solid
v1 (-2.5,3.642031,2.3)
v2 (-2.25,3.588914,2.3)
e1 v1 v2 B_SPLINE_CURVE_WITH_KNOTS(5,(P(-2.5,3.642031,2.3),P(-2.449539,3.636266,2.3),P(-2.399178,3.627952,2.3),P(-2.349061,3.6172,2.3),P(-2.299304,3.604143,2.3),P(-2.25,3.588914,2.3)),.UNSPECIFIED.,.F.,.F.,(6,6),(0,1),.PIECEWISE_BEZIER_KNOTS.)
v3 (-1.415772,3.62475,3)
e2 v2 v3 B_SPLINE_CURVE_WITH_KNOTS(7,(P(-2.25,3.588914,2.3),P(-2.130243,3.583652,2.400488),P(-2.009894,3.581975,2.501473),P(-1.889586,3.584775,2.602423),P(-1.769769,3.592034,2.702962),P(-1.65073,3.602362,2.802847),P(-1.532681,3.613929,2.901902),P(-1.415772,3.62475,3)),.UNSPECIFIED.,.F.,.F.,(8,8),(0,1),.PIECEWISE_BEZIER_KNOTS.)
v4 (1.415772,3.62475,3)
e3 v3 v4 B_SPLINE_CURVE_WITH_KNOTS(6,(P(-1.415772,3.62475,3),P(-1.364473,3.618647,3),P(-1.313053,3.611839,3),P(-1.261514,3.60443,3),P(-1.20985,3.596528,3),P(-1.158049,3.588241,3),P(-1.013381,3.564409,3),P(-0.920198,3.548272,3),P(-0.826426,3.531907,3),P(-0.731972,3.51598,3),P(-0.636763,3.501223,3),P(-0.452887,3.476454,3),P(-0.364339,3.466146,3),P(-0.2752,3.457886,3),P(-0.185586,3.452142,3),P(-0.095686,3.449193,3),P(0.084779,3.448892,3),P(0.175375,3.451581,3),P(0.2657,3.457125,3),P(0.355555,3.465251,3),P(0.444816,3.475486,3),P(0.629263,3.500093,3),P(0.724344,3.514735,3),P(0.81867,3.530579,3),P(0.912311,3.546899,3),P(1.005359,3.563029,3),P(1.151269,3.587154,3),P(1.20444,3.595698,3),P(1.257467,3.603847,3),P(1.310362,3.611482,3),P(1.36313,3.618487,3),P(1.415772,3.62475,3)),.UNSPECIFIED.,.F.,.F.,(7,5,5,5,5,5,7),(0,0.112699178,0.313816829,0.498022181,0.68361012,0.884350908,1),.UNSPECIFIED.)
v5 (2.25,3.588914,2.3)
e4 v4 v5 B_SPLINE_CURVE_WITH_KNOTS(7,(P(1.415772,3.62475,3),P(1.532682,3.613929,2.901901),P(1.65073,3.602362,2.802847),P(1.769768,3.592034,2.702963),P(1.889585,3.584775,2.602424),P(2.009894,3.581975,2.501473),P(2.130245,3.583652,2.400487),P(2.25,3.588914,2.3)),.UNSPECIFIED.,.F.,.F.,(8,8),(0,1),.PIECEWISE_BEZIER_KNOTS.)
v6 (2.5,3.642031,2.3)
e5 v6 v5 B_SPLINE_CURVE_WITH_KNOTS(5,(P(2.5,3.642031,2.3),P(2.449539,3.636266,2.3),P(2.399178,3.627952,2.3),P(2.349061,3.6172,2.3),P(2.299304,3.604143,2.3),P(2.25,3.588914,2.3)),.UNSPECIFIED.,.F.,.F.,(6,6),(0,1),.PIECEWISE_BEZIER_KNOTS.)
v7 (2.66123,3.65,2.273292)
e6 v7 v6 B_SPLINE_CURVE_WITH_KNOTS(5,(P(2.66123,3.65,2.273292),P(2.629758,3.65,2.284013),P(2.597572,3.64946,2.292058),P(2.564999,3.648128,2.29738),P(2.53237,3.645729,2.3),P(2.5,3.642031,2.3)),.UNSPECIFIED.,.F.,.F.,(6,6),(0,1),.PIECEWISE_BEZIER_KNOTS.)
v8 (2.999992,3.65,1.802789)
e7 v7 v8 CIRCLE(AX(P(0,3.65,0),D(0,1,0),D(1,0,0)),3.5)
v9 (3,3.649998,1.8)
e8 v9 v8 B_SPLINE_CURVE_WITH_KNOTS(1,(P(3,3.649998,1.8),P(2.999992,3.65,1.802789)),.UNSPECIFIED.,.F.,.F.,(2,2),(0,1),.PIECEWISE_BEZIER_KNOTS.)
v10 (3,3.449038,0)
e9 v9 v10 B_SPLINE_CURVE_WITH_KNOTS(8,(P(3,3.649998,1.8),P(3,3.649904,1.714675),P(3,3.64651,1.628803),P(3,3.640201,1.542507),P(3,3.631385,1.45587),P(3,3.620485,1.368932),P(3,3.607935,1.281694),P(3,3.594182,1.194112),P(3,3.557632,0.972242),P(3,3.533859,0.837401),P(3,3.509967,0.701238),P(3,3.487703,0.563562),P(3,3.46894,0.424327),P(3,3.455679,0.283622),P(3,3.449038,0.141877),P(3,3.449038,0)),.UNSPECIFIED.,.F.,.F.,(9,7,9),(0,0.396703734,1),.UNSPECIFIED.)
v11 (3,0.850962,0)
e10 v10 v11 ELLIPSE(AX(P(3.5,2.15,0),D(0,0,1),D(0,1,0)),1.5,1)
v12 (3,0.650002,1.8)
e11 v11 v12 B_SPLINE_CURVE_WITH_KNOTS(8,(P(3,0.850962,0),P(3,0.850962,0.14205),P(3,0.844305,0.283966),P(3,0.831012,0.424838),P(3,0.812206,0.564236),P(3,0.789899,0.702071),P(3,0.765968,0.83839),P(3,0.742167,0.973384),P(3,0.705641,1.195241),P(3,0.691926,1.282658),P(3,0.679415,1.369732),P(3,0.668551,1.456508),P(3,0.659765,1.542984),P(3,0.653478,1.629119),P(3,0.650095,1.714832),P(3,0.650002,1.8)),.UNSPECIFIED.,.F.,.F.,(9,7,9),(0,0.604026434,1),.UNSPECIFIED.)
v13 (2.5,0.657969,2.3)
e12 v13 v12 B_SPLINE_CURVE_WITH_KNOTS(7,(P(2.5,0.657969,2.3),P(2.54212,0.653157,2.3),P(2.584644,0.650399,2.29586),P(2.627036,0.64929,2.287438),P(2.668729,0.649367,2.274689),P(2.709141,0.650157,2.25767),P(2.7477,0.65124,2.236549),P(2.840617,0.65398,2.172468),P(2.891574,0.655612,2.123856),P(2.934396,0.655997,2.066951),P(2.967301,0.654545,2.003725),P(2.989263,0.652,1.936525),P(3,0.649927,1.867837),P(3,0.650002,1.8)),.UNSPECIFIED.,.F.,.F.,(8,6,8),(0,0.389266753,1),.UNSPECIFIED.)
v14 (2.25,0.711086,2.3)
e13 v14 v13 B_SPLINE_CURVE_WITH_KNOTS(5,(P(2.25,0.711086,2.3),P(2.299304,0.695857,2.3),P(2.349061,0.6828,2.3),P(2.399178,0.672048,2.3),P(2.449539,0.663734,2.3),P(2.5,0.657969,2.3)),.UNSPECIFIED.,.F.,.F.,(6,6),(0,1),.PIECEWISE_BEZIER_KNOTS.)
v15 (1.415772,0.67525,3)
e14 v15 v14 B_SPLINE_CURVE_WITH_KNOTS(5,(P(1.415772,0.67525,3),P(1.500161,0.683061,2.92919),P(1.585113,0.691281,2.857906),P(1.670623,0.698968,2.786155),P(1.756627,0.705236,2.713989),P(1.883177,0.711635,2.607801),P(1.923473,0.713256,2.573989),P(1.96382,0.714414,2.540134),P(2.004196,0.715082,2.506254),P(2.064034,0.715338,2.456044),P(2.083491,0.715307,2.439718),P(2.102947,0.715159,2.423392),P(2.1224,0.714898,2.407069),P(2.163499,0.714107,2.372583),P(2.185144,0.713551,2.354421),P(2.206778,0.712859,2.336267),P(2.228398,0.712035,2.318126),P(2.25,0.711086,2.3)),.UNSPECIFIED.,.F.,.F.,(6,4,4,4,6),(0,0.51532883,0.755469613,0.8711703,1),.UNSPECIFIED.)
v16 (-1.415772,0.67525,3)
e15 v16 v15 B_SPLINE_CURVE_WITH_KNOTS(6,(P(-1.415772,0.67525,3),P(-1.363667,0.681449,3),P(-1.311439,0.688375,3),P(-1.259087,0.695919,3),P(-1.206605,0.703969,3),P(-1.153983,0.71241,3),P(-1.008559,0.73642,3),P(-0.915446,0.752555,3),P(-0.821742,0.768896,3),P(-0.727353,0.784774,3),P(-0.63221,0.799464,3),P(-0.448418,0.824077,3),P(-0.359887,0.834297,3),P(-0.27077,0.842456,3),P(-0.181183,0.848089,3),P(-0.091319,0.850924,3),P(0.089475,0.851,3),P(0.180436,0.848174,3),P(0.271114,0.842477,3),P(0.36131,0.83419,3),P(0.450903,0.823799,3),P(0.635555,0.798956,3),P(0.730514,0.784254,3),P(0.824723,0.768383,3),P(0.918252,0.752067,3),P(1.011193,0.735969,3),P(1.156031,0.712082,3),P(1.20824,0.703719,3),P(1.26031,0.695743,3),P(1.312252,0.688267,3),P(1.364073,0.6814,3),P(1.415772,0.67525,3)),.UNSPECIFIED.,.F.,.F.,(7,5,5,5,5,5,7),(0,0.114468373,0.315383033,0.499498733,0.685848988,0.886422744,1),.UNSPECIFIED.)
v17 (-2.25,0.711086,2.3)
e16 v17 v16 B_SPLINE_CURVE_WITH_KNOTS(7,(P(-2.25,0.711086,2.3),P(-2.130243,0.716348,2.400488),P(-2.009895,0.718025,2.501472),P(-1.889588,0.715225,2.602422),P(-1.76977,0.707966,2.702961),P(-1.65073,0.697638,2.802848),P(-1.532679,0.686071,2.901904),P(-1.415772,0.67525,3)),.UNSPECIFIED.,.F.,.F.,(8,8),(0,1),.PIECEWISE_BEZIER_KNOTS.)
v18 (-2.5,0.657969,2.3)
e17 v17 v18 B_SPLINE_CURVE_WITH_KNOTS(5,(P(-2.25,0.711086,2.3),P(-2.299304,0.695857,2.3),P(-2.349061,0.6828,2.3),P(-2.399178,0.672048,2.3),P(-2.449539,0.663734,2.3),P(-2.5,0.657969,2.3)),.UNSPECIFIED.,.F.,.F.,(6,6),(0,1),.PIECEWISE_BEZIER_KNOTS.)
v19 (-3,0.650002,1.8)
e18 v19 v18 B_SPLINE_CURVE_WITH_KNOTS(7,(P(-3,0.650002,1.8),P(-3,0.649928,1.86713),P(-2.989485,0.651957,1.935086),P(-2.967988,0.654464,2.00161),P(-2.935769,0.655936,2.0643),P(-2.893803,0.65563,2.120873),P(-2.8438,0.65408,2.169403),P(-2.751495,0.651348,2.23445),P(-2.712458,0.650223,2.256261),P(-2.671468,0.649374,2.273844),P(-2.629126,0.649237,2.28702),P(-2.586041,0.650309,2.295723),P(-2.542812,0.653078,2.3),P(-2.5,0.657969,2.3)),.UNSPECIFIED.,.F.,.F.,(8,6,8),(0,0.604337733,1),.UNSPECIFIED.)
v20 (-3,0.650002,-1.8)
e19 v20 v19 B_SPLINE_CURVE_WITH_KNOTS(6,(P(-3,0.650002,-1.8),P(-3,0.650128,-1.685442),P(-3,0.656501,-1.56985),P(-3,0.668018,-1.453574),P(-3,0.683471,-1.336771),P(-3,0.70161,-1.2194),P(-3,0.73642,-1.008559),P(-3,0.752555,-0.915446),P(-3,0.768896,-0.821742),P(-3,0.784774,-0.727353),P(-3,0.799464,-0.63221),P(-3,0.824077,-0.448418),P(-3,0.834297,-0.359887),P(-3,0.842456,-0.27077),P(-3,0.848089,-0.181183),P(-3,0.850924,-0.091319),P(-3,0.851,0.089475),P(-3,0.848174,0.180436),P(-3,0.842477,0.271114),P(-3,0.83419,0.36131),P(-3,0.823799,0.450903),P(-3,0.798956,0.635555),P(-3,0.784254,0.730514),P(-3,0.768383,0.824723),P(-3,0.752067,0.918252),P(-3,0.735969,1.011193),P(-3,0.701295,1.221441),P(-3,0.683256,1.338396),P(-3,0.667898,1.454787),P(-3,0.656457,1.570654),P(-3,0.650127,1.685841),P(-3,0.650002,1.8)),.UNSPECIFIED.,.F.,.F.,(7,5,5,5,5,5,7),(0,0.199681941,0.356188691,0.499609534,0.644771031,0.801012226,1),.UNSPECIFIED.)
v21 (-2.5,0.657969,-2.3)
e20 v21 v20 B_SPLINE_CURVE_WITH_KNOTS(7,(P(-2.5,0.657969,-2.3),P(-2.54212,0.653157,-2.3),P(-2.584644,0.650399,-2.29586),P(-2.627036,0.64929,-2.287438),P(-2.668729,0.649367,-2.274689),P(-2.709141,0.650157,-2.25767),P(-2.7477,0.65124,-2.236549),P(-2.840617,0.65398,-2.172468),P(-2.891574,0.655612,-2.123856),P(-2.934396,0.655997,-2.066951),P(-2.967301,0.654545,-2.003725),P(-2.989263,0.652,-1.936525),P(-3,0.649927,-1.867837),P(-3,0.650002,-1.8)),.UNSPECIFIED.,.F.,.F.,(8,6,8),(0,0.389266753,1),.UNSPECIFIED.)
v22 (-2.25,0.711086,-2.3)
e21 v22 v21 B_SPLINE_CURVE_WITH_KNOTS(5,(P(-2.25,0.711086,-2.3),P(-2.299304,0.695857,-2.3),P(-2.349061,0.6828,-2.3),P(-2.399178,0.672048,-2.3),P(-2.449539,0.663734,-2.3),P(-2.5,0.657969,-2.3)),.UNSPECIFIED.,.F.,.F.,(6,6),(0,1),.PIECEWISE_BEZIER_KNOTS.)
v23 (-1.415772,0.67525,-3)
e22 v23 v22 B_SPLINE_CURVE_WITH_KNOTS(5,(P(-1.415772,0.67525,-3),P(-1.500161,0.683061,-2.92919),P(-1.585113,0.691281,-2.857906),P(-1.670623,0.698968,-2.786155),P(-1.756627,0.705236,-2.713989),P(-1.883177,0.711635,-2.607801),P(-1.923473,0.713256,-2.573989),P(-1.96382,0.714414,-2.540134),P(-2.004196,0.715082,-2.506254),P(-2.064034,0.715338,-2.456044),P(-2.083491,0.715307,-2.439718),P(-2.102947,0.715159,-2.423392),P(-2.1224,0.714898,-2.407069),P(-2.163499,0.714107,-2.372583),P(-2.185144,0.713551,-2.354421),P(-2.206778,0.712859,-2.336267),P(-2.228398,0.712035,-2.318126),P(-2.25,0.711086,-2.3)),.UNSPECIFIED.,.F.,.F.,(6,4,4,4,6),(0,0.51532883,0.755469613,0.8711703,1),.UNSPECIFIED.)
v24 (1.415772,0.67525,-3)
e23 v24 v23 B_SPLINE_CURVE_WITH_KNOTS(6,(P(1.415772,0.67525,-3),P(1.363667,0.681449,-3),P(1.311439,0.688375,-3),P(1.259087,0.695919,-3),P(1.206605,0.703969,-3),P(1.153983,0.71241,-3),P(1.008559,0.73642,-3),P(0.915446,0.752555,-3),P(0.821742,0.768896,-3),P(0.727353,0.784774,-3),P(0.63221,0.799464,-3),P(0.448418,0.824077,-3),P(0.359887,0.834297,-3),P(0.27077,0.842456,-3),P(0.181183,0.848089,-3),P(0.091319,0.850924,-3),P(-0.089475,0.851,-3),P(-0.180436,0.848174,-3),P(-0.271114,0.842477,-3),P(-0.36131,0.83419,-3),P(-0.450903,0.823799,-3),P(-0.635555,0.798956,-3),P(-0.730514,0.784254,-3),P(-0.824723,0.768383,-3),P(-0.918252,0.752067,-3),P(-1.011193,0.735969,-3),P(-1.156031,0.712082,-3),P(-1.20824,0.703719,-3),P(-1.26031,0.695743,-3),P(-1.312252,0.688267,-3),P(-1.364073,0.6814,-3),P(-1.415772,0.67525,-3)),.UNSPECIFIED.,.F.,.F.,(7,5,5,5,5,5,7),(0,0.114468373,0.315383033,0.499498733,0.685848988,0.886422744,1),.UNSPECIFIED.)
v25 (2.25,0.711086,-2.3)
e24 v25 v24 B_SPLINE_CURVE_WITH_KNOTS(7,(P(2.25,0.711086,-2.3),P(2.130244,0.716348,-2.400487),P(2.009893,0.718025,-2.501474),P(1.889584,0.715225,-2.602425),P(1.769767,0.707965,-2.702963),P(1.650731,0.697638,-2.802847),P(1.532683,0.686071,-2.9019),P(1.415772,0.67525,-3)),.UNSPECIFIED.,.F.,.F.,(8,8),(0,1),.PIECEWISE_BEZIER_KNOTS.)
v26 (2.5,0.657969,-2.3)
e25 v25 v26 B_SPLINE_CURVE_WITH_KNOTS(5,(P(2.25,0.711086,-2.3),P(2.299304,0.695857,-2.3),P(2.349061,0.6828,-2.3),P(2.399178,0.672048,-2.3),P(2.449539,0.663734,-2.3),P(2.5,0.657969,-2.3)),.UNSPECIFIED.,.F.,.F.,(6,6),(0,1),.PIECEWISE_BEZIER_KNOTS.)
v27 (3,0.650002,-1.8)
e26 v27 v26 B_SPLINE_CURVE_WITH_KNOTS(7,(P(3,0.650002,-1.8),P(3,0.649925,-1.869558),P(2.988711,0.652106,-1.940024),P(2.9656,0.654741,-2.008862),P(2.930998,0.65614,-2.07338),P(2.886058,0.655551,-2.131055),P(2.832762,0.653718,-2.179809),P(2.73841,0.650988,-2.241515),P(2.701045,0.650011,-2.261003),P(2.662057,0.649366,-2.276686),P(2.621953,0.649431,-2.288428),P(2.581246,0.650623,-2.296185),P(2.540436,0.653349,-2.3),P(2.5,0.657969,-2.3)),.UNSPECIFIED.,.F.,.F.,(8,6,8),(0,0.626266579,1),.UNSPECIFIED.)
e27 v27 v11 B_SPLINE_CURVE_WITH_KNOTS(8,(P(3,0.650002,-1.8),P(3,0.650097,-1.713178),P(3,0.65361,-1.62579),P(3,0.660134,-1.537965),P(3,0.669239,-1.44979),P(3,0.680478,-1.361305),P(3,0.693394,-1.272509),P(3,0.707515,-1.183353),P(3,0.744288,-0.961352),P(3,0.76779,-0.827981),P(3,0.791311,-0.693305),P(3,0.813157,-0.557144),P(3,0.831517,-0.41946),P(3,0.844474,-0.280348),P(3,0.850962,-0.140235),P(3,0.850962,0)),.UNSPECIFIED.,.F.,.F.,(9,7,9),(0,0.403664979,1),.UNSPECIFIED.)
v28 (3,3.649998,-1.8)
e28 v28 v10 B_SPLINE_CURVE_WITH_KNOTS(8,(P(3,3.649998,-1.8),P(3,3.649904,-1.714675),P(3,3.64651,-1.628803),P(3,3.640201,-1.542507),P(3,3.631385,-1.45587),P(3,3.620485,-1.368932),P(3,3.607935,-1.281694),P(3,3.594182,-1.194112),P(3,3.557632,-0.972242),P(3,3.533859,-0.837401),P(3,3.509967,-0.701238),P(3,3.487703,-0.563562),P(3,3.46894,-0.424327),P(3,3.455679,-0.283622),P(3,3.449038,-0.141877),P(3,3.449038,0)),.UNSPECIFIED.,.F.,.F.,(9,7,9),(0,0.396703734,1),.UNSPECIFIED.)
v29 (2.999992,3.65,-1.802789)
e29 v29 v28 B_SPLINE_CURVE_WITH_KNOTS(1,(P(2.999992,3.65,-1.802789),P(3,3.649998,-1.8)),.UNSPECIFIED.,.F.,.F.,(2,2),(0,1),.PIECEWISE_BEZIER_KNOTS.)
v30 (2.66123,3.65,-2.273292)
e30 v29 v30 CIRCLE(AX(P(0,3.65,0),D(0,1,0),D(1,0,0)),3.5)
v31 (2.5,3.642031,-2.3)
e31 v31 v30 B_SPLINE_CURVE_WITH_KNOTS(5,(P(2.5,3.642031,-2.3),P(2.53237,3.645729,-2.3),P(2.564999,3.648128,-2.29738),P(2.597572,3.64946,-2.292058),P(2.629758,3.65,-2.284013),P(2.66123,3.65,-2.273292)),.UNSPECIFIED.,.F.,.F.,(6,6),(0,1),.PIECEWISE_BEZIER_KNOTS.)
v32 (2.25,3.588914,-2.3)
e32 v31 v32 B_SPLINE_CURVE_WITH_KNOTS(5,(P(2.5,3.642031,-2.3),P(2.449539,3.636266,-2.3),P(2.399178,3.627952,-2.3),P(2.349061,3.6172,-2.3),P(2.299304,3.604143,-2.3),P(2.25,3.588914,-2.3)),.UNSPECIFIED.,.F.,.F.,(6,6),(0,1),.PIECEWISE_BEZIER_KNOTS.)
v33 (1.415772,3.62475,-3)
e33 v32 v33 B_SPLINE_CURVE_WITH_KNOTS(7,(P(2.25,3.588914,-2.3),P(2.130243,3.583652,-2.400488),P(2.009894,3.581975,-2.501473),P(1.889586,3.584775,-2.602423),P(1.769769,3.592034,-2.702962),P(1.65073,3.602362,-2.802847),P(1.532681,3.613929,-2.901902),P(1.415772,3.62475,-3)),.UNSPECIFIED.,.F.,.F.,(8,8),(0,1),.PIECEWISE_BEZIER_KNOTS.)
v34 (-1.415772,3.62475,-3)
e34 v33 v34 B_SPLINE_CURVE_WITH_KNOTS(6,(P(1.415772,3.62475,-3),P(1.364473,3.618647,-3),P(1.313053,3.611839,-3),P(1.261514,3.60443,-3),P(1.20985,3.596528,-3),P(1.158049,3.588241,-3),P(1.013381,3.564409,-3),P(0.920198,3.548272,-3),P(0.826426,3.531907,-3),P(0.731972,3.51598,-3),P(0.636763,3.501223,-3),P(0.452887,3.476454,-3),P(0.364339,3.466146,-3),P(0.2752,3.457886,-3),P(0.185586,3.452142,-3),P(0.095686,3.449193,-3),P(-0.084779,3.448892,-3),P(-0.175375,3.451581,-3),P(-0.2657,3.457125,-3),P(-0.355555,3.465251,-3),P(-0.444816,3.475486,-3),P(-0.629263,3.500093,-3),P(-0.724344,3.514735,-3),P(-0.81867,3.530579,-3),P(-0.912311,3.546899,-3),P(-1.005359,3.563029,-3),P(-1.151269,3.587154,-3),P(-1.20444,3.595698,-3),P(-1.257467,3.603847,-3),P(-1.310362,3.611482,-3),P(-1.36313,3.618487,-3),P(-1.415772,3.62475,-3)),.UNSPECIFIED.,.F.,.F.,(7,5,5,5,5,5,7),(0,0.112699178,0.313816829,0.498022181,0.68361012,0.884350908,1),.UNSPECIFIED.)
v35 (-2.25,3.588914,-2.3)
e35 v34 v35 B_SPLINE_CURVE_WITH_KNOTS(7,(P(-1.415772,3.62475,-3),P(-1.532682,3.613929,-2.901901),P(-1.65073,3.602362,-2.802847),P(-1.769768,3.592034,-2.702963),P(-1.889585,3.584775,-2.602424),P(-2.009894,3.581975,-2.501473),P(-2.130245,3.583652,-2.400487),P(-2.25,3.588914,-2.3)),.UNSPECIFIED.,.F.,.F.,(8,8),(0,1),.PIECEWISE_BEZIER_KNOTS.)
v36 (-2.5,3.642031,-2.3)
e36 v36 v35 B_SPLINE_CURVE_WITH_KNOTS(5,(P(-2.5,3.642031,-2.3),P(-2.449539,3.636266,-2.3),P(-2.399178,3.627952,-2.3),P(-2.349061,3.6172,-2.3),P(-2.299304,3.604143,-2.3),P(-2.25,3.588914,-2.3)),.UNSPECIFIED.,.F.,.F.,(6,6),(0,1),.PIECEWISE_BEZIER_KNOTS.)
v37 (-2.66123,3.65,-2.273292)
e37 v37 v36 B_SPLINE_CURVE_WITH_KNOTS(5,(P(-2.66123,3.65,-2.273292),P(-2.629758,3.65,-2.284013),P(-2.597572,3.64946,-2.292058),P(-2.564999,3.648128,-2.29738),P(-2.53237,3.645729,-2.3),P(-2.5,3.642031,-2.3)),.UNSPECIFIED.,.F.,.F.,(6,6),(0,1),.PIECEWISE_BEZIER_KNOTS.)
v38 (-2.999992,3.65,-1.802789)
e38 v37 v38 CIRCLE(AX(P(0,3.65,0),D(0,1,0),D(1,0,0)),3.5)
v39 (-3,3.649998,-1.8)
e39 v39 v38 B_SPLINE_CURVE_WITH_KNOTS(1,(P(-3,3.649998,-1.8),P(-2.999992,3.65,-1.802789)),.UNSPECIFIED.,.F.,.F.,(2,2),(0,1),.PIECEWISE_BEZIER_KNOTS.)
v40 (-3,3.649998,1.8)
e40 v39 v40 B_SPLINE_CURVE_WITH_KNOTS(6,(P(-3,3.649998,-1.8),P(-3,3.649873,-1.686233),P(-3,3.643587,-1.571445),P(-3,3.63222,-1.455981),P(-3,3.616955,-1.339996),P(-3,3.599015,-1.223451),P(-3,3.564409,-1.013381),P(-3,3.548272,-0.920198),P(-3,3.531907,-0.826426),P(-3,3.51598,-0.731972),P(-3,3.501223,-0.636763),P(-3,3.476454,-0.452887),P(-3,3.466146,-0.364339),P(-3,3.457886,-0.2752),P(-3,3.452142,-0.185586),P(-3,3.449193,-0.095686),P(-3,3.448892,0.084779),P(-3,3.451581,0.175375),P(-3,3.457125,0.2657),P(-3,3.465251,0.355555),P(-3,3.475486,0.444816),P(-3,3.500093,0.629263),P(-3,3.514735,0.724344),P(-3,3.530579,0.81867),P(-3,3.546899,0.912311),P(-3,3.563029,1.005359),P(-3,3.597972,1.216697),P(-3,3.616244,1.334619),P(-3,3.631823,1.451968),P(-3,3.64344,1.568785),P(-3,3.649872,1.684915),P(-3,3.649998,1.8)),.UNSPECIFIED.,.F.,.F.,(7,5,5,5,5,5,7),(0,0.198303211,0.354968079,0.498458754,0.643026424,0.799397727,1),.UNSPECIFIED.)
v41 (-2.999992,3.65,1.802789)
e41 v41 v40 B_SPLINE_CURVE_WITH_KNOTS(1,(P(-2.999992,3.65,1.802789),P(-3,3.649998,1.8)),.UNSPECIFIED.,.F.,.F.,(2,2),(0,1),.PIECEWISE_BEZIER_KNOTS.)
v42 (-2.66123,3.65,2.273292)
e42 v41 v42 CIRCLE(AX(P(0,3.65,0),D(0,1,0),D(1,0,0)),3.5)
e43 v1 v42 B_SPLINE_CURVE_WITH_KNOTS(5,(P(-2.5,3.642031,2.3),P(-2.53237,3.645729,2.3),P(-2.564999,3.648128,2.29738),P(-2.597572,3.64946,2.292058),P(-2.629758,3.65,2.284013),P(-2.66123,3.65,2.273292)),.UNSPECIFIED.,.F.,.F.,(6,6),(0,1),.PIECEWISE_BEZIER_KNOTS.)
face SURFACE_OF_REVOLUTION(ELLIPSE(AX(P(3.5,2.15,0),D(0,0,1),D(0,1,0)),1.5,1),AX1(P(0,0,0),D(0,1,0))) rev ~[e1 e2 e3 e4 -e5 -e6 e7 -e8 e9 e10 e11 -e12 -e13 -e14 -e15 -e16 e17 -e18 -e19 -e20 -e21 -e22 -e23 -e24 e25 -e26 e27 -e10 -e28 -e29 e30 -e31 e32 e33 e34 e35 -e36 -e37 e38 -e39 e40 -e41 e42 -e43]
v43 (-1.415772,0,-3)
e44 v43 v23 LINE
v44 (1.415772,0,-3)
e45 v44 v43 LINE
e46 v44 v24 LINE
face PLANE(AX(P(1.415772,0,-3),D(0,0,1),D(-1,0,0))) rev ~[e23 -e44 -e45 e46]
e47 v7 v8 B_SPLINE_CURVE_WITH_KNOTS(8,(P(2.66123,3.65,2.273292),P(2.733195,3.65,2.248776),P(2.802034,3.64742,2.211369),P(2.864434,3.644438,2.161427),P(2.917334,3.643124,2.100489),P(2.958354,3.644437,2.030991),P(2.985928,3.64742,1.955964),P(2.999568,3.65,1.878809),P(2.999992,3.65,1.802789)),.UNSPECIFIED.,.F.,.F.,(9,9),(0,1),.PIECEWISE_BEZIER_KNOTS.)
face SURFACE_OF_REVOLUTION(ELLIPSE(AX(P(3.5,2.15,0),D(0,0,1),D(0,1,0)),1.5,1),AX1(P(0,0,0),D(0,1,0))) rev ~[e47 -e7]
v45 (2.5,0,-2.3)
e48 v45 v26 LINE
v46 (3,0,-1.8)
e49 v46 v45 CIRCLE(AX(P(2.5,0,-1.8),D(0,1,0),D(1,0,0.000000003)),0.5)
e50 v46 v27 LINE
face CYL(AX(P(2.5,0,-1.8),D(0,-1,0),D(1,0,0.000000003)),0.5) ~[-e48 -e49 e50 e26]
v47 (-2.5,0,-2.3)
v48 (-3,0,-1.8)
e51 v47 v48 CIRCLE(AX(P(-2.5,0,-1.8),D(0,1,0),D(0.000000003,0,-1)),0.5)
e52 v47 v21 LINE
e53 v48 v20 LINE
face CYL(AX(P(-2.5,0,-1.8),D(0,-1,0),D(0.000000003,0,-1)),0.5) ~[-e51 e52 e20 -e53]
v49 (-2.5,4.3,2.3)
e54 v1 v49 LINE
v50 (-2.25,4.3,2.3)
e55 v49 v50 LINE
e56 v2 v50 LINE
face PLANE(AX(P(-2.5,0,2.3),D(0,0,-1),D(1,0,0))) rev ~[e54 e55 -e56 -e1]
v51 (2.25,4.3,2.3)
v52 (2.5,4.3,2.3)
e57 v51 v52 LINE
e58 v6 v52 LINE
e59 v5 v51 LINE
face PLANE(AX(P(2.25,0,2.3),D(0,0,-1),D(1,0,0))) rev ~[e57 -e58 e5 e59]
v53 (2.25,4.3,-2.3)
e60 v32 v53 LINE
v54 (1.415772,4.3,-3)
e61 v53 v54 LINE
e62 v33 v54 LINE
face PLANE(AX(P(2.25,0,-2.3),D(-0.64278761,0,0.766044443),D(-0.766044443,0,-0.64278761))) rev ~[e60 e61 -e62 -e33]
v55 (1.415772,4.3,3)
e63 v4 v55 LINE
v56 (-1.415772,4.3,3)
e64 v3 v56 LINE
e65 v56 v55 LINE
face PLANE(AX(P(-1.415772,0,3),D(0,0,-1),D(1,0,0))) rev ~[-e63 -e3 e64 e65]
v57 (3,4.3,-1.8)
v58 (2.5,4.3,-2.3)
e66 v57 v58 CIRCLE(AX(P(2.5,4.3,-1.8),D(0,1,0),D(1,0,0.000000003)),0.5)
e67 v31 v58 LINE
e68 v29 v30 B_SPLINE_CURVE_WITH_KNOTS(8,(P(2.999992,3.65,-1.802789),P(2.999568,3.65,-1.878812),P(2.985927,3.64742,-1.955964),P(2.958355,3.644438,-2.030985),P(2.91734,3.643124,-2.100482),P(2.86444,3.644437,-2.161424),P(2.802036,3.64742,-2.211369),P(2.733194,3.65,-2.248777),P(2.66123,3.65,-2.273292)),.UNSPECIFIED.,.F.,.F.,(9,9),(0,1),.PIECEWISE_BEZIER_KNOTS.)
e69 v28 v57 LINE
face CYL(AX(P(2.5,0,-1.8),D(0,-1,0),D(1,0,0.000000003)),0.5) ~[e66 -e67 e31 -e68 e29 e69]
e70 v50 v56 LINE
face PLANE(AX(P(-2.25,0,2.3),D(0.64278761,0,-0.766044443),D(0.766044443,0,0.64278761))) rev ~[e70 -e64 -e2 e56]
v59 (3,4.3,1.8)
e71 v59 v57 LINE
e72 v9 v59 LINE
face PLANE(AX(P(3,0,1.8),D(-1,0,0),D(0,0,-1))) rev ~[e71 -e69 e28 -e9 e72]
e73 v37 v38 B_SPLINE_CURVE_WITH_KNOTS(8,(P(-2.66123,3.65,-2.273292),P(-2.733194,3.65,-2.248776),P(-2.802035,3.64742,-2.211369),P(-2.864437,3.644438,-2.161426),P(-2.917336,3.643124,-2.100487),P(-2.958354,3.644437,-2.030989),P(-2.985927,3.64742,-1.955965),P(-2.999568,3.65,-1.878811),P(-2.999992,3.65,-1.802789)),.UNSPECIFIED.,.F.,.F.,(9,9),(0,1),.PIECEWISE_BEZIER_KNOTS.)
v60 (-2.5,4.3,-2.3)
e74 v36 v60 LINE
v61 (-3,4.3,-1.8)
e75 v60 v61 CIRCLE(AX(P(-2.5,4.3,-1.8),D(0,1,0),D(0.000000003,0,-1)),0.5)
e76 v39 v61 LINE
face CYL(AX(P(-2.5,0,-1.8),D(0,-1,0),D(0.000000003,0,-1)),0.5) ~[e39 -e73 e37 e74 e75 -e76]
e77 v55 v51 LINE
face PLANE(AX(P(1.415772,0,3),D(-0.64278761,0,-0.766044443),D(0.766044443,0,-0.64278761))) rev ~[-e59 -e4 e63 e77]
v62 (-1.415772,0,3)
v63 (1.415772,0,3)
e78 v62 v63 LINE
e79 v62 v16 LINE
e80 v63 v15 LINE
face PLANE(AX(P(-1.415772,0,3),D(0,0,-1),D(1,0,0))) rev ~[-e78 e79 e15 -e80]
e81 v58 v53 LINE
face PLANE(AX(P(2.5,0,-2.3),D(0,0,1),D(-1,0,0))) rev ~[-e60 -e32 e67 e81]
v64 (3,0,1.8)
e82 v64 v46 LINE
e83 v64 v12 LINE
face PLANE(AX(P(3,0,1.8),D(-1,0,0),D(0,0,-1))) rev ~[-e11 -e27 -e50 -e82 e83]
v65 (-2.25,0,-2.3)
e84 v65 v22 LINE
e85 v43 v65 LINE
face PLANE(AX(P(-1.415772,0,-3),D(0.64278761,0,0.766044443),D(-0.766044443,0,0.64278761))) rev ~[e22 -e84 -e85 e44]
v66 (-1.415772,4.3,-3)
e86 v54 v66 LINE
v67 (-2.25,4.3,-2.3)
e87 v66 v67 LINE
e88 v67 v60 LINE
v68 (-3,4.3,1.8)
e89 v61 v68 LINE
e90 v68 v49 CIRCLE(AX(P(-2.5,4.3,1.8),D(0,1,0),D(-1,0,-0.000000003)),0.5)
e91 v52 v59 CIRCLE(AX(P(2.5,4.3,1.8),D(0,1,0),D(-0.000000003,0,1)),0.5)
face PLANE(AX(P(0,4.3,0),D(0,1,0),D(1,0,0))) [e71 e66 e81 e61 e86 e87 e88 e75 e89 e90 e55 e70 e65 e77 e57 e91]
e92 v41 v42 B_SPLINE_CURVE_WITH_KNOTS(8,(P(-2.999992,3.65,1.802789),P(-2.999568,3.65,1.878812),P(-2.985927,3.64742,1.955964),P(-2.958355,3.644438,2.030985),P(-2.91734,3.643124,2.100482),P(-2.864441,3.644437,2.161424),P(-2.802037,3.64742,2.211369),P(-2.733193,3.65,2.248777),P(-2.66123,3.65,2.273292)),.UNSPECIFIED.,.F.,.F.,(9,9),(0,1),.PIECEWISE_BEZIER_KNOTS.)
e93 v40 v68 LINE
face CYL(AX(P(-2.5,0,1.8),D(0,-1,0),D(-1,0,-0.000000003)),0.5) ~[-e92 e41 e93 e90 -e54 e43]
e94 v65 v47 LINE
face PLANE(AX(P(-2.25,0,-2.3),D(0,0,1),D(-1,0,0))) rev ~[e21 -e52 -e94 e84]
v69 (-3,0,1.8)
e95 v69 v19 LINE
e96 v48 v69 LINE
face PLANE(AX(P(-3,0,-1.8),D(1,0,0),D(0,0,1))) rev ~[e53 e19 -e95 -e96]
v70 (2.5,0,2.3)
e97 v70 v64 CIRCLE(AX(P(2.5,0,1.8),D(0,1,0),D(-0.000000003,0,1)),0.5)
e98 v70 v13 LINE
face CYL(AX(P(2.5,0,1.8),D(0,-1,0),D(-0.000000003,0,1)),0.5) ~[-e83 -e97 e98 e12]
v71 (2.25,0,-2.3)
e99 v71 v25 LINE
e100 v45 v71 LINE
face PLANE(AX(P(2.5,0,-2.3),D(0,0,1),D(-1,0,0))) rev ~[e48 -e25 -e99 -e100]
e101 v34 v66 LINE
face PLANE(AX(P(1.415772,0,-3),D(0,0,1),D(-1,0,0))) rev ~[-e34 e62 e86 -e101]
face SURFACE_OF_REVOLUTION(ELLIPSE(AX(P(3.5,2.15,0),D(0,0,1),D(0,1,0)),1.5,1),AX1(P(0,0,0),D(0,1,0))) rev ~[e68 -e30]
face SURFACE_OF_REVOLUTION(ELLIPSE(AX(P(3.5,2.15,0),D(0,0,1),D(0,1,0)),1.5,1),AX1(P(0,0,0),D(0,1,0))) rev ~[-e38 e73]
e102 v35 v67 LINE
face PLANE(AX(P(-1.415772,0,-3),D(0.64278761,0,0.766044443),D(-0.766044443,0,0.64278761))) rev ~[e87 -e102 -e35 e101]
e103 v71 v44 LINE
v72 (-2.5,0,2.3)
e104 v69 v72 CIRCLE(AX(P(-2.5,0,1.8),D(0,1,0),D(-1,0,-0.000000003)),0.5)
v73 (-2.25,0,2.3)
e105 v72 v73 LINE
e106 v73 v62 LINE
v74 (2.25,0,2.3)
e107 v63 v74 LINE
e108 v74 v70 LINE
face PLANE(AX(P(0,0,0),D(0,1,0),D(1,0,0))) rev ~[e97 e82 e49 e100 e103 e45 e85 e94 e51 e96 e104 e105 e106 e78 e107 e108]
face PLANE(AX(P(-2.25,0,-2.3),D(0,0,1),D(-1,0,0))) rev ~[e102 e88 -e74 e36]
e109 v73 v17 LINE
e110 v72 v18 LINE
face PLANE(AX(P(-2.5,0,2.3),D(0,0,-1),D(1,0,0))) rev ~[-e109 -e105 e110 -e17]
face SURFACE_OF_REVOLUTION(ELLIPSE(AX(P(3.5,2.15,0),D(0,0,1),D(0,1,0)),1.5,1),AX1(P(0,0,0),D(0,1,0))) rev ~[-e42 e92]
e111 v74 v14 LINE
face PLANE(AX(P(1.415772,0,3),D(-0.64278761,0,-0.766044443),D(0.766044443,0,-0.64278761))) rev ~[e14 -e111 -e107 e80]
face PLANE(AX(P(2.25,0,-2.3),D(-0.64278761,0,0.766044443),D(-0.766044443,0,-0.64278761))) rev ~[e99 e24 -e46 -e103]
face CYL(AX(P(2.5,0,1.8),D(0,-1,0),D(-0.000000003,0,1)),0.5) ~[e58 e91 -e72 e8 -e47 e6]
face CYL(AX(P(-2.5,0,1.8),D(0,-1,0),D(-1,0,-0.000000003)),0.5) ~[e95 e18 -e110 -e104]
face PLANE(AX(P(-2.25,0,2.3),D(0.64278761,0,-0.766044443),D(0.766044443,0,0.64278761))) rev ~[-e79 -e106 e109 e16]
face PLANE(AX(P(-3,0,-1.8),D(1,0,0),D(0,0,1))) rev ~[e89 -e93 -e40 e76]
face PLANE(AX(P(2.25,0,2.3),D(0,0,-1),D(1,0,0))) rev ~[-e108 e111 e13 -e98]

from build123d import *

# Parameters (mm, degrees)
BOSS_EXTRUDE1_DEPTH = 4.3
SKETCH2_RX          = 1.5
SKETCH2_RY          = 1


with BuildPart() as part:
    # Sketch1 → Boss-Extrude1 (new body)
    with BuildSketch(Plane(origin=(0, 0, 0), x_dir=(1, 0, 0), z_dir=(0, 1, 0))):
        with BuildLine():
            Line((-1.415772485, -3), (1.415772485, -3))
            Line((1.415772485, -3), (2.25, -2.3))
            Line((2.25, -2.3), (2.5, -2.3))
            ThreePointArc((2.5, -2.3), (2.853553391, -2.153553391), (3, -1.8))
            Line((3, -1.8), (3, 1.8))
            ThreePointArc((3, 1.8), (2.853553391, 2.153553391), (2.5, 2.3))
            Line((2.5, 2.3), (2.25, 2.3))
            Line((2.25, 2.3), (1.415772485, 3))
            Line((1.415772485, 3), (-1.415772485, 3))
            Line((-1.415772485, 3), (-2.25, 2.3))
            Line((-2.25, 2.3), (-2.5, 2.3))
            ThreePointArc((-2.5, 2.3), (-2.853553391, 2.153553391), (-3, 1.8))
            Line((-3, 1.8), (-3, -1.8))
            ThreePointArc((-3, -1.8), (-2.853553391, -2.153553391), (-2.5, -2.3))
            Line((-2.5, -2.3), (-2.25, -2.3))
            Line((-2.25, -2.3), (-1.415772485, -3))
        make_face()
    extrude(amount=BOSS_EXTRUDE1_DEPTH)

    # Sketch2 → Cut-Revolve1 (revolve, cut)
    with BuildSketch(Plane.XY):
        with Locations(Location((3.5, 2.15), (0, 0, 90))):
            Ellipse(SKETCH2_RX, SKETCH2_RY)
    revolve(axis=Axis((0, 0, 0), (0, 1, 0)), mode=Mode.SUBTRACT)


solid = part.part
